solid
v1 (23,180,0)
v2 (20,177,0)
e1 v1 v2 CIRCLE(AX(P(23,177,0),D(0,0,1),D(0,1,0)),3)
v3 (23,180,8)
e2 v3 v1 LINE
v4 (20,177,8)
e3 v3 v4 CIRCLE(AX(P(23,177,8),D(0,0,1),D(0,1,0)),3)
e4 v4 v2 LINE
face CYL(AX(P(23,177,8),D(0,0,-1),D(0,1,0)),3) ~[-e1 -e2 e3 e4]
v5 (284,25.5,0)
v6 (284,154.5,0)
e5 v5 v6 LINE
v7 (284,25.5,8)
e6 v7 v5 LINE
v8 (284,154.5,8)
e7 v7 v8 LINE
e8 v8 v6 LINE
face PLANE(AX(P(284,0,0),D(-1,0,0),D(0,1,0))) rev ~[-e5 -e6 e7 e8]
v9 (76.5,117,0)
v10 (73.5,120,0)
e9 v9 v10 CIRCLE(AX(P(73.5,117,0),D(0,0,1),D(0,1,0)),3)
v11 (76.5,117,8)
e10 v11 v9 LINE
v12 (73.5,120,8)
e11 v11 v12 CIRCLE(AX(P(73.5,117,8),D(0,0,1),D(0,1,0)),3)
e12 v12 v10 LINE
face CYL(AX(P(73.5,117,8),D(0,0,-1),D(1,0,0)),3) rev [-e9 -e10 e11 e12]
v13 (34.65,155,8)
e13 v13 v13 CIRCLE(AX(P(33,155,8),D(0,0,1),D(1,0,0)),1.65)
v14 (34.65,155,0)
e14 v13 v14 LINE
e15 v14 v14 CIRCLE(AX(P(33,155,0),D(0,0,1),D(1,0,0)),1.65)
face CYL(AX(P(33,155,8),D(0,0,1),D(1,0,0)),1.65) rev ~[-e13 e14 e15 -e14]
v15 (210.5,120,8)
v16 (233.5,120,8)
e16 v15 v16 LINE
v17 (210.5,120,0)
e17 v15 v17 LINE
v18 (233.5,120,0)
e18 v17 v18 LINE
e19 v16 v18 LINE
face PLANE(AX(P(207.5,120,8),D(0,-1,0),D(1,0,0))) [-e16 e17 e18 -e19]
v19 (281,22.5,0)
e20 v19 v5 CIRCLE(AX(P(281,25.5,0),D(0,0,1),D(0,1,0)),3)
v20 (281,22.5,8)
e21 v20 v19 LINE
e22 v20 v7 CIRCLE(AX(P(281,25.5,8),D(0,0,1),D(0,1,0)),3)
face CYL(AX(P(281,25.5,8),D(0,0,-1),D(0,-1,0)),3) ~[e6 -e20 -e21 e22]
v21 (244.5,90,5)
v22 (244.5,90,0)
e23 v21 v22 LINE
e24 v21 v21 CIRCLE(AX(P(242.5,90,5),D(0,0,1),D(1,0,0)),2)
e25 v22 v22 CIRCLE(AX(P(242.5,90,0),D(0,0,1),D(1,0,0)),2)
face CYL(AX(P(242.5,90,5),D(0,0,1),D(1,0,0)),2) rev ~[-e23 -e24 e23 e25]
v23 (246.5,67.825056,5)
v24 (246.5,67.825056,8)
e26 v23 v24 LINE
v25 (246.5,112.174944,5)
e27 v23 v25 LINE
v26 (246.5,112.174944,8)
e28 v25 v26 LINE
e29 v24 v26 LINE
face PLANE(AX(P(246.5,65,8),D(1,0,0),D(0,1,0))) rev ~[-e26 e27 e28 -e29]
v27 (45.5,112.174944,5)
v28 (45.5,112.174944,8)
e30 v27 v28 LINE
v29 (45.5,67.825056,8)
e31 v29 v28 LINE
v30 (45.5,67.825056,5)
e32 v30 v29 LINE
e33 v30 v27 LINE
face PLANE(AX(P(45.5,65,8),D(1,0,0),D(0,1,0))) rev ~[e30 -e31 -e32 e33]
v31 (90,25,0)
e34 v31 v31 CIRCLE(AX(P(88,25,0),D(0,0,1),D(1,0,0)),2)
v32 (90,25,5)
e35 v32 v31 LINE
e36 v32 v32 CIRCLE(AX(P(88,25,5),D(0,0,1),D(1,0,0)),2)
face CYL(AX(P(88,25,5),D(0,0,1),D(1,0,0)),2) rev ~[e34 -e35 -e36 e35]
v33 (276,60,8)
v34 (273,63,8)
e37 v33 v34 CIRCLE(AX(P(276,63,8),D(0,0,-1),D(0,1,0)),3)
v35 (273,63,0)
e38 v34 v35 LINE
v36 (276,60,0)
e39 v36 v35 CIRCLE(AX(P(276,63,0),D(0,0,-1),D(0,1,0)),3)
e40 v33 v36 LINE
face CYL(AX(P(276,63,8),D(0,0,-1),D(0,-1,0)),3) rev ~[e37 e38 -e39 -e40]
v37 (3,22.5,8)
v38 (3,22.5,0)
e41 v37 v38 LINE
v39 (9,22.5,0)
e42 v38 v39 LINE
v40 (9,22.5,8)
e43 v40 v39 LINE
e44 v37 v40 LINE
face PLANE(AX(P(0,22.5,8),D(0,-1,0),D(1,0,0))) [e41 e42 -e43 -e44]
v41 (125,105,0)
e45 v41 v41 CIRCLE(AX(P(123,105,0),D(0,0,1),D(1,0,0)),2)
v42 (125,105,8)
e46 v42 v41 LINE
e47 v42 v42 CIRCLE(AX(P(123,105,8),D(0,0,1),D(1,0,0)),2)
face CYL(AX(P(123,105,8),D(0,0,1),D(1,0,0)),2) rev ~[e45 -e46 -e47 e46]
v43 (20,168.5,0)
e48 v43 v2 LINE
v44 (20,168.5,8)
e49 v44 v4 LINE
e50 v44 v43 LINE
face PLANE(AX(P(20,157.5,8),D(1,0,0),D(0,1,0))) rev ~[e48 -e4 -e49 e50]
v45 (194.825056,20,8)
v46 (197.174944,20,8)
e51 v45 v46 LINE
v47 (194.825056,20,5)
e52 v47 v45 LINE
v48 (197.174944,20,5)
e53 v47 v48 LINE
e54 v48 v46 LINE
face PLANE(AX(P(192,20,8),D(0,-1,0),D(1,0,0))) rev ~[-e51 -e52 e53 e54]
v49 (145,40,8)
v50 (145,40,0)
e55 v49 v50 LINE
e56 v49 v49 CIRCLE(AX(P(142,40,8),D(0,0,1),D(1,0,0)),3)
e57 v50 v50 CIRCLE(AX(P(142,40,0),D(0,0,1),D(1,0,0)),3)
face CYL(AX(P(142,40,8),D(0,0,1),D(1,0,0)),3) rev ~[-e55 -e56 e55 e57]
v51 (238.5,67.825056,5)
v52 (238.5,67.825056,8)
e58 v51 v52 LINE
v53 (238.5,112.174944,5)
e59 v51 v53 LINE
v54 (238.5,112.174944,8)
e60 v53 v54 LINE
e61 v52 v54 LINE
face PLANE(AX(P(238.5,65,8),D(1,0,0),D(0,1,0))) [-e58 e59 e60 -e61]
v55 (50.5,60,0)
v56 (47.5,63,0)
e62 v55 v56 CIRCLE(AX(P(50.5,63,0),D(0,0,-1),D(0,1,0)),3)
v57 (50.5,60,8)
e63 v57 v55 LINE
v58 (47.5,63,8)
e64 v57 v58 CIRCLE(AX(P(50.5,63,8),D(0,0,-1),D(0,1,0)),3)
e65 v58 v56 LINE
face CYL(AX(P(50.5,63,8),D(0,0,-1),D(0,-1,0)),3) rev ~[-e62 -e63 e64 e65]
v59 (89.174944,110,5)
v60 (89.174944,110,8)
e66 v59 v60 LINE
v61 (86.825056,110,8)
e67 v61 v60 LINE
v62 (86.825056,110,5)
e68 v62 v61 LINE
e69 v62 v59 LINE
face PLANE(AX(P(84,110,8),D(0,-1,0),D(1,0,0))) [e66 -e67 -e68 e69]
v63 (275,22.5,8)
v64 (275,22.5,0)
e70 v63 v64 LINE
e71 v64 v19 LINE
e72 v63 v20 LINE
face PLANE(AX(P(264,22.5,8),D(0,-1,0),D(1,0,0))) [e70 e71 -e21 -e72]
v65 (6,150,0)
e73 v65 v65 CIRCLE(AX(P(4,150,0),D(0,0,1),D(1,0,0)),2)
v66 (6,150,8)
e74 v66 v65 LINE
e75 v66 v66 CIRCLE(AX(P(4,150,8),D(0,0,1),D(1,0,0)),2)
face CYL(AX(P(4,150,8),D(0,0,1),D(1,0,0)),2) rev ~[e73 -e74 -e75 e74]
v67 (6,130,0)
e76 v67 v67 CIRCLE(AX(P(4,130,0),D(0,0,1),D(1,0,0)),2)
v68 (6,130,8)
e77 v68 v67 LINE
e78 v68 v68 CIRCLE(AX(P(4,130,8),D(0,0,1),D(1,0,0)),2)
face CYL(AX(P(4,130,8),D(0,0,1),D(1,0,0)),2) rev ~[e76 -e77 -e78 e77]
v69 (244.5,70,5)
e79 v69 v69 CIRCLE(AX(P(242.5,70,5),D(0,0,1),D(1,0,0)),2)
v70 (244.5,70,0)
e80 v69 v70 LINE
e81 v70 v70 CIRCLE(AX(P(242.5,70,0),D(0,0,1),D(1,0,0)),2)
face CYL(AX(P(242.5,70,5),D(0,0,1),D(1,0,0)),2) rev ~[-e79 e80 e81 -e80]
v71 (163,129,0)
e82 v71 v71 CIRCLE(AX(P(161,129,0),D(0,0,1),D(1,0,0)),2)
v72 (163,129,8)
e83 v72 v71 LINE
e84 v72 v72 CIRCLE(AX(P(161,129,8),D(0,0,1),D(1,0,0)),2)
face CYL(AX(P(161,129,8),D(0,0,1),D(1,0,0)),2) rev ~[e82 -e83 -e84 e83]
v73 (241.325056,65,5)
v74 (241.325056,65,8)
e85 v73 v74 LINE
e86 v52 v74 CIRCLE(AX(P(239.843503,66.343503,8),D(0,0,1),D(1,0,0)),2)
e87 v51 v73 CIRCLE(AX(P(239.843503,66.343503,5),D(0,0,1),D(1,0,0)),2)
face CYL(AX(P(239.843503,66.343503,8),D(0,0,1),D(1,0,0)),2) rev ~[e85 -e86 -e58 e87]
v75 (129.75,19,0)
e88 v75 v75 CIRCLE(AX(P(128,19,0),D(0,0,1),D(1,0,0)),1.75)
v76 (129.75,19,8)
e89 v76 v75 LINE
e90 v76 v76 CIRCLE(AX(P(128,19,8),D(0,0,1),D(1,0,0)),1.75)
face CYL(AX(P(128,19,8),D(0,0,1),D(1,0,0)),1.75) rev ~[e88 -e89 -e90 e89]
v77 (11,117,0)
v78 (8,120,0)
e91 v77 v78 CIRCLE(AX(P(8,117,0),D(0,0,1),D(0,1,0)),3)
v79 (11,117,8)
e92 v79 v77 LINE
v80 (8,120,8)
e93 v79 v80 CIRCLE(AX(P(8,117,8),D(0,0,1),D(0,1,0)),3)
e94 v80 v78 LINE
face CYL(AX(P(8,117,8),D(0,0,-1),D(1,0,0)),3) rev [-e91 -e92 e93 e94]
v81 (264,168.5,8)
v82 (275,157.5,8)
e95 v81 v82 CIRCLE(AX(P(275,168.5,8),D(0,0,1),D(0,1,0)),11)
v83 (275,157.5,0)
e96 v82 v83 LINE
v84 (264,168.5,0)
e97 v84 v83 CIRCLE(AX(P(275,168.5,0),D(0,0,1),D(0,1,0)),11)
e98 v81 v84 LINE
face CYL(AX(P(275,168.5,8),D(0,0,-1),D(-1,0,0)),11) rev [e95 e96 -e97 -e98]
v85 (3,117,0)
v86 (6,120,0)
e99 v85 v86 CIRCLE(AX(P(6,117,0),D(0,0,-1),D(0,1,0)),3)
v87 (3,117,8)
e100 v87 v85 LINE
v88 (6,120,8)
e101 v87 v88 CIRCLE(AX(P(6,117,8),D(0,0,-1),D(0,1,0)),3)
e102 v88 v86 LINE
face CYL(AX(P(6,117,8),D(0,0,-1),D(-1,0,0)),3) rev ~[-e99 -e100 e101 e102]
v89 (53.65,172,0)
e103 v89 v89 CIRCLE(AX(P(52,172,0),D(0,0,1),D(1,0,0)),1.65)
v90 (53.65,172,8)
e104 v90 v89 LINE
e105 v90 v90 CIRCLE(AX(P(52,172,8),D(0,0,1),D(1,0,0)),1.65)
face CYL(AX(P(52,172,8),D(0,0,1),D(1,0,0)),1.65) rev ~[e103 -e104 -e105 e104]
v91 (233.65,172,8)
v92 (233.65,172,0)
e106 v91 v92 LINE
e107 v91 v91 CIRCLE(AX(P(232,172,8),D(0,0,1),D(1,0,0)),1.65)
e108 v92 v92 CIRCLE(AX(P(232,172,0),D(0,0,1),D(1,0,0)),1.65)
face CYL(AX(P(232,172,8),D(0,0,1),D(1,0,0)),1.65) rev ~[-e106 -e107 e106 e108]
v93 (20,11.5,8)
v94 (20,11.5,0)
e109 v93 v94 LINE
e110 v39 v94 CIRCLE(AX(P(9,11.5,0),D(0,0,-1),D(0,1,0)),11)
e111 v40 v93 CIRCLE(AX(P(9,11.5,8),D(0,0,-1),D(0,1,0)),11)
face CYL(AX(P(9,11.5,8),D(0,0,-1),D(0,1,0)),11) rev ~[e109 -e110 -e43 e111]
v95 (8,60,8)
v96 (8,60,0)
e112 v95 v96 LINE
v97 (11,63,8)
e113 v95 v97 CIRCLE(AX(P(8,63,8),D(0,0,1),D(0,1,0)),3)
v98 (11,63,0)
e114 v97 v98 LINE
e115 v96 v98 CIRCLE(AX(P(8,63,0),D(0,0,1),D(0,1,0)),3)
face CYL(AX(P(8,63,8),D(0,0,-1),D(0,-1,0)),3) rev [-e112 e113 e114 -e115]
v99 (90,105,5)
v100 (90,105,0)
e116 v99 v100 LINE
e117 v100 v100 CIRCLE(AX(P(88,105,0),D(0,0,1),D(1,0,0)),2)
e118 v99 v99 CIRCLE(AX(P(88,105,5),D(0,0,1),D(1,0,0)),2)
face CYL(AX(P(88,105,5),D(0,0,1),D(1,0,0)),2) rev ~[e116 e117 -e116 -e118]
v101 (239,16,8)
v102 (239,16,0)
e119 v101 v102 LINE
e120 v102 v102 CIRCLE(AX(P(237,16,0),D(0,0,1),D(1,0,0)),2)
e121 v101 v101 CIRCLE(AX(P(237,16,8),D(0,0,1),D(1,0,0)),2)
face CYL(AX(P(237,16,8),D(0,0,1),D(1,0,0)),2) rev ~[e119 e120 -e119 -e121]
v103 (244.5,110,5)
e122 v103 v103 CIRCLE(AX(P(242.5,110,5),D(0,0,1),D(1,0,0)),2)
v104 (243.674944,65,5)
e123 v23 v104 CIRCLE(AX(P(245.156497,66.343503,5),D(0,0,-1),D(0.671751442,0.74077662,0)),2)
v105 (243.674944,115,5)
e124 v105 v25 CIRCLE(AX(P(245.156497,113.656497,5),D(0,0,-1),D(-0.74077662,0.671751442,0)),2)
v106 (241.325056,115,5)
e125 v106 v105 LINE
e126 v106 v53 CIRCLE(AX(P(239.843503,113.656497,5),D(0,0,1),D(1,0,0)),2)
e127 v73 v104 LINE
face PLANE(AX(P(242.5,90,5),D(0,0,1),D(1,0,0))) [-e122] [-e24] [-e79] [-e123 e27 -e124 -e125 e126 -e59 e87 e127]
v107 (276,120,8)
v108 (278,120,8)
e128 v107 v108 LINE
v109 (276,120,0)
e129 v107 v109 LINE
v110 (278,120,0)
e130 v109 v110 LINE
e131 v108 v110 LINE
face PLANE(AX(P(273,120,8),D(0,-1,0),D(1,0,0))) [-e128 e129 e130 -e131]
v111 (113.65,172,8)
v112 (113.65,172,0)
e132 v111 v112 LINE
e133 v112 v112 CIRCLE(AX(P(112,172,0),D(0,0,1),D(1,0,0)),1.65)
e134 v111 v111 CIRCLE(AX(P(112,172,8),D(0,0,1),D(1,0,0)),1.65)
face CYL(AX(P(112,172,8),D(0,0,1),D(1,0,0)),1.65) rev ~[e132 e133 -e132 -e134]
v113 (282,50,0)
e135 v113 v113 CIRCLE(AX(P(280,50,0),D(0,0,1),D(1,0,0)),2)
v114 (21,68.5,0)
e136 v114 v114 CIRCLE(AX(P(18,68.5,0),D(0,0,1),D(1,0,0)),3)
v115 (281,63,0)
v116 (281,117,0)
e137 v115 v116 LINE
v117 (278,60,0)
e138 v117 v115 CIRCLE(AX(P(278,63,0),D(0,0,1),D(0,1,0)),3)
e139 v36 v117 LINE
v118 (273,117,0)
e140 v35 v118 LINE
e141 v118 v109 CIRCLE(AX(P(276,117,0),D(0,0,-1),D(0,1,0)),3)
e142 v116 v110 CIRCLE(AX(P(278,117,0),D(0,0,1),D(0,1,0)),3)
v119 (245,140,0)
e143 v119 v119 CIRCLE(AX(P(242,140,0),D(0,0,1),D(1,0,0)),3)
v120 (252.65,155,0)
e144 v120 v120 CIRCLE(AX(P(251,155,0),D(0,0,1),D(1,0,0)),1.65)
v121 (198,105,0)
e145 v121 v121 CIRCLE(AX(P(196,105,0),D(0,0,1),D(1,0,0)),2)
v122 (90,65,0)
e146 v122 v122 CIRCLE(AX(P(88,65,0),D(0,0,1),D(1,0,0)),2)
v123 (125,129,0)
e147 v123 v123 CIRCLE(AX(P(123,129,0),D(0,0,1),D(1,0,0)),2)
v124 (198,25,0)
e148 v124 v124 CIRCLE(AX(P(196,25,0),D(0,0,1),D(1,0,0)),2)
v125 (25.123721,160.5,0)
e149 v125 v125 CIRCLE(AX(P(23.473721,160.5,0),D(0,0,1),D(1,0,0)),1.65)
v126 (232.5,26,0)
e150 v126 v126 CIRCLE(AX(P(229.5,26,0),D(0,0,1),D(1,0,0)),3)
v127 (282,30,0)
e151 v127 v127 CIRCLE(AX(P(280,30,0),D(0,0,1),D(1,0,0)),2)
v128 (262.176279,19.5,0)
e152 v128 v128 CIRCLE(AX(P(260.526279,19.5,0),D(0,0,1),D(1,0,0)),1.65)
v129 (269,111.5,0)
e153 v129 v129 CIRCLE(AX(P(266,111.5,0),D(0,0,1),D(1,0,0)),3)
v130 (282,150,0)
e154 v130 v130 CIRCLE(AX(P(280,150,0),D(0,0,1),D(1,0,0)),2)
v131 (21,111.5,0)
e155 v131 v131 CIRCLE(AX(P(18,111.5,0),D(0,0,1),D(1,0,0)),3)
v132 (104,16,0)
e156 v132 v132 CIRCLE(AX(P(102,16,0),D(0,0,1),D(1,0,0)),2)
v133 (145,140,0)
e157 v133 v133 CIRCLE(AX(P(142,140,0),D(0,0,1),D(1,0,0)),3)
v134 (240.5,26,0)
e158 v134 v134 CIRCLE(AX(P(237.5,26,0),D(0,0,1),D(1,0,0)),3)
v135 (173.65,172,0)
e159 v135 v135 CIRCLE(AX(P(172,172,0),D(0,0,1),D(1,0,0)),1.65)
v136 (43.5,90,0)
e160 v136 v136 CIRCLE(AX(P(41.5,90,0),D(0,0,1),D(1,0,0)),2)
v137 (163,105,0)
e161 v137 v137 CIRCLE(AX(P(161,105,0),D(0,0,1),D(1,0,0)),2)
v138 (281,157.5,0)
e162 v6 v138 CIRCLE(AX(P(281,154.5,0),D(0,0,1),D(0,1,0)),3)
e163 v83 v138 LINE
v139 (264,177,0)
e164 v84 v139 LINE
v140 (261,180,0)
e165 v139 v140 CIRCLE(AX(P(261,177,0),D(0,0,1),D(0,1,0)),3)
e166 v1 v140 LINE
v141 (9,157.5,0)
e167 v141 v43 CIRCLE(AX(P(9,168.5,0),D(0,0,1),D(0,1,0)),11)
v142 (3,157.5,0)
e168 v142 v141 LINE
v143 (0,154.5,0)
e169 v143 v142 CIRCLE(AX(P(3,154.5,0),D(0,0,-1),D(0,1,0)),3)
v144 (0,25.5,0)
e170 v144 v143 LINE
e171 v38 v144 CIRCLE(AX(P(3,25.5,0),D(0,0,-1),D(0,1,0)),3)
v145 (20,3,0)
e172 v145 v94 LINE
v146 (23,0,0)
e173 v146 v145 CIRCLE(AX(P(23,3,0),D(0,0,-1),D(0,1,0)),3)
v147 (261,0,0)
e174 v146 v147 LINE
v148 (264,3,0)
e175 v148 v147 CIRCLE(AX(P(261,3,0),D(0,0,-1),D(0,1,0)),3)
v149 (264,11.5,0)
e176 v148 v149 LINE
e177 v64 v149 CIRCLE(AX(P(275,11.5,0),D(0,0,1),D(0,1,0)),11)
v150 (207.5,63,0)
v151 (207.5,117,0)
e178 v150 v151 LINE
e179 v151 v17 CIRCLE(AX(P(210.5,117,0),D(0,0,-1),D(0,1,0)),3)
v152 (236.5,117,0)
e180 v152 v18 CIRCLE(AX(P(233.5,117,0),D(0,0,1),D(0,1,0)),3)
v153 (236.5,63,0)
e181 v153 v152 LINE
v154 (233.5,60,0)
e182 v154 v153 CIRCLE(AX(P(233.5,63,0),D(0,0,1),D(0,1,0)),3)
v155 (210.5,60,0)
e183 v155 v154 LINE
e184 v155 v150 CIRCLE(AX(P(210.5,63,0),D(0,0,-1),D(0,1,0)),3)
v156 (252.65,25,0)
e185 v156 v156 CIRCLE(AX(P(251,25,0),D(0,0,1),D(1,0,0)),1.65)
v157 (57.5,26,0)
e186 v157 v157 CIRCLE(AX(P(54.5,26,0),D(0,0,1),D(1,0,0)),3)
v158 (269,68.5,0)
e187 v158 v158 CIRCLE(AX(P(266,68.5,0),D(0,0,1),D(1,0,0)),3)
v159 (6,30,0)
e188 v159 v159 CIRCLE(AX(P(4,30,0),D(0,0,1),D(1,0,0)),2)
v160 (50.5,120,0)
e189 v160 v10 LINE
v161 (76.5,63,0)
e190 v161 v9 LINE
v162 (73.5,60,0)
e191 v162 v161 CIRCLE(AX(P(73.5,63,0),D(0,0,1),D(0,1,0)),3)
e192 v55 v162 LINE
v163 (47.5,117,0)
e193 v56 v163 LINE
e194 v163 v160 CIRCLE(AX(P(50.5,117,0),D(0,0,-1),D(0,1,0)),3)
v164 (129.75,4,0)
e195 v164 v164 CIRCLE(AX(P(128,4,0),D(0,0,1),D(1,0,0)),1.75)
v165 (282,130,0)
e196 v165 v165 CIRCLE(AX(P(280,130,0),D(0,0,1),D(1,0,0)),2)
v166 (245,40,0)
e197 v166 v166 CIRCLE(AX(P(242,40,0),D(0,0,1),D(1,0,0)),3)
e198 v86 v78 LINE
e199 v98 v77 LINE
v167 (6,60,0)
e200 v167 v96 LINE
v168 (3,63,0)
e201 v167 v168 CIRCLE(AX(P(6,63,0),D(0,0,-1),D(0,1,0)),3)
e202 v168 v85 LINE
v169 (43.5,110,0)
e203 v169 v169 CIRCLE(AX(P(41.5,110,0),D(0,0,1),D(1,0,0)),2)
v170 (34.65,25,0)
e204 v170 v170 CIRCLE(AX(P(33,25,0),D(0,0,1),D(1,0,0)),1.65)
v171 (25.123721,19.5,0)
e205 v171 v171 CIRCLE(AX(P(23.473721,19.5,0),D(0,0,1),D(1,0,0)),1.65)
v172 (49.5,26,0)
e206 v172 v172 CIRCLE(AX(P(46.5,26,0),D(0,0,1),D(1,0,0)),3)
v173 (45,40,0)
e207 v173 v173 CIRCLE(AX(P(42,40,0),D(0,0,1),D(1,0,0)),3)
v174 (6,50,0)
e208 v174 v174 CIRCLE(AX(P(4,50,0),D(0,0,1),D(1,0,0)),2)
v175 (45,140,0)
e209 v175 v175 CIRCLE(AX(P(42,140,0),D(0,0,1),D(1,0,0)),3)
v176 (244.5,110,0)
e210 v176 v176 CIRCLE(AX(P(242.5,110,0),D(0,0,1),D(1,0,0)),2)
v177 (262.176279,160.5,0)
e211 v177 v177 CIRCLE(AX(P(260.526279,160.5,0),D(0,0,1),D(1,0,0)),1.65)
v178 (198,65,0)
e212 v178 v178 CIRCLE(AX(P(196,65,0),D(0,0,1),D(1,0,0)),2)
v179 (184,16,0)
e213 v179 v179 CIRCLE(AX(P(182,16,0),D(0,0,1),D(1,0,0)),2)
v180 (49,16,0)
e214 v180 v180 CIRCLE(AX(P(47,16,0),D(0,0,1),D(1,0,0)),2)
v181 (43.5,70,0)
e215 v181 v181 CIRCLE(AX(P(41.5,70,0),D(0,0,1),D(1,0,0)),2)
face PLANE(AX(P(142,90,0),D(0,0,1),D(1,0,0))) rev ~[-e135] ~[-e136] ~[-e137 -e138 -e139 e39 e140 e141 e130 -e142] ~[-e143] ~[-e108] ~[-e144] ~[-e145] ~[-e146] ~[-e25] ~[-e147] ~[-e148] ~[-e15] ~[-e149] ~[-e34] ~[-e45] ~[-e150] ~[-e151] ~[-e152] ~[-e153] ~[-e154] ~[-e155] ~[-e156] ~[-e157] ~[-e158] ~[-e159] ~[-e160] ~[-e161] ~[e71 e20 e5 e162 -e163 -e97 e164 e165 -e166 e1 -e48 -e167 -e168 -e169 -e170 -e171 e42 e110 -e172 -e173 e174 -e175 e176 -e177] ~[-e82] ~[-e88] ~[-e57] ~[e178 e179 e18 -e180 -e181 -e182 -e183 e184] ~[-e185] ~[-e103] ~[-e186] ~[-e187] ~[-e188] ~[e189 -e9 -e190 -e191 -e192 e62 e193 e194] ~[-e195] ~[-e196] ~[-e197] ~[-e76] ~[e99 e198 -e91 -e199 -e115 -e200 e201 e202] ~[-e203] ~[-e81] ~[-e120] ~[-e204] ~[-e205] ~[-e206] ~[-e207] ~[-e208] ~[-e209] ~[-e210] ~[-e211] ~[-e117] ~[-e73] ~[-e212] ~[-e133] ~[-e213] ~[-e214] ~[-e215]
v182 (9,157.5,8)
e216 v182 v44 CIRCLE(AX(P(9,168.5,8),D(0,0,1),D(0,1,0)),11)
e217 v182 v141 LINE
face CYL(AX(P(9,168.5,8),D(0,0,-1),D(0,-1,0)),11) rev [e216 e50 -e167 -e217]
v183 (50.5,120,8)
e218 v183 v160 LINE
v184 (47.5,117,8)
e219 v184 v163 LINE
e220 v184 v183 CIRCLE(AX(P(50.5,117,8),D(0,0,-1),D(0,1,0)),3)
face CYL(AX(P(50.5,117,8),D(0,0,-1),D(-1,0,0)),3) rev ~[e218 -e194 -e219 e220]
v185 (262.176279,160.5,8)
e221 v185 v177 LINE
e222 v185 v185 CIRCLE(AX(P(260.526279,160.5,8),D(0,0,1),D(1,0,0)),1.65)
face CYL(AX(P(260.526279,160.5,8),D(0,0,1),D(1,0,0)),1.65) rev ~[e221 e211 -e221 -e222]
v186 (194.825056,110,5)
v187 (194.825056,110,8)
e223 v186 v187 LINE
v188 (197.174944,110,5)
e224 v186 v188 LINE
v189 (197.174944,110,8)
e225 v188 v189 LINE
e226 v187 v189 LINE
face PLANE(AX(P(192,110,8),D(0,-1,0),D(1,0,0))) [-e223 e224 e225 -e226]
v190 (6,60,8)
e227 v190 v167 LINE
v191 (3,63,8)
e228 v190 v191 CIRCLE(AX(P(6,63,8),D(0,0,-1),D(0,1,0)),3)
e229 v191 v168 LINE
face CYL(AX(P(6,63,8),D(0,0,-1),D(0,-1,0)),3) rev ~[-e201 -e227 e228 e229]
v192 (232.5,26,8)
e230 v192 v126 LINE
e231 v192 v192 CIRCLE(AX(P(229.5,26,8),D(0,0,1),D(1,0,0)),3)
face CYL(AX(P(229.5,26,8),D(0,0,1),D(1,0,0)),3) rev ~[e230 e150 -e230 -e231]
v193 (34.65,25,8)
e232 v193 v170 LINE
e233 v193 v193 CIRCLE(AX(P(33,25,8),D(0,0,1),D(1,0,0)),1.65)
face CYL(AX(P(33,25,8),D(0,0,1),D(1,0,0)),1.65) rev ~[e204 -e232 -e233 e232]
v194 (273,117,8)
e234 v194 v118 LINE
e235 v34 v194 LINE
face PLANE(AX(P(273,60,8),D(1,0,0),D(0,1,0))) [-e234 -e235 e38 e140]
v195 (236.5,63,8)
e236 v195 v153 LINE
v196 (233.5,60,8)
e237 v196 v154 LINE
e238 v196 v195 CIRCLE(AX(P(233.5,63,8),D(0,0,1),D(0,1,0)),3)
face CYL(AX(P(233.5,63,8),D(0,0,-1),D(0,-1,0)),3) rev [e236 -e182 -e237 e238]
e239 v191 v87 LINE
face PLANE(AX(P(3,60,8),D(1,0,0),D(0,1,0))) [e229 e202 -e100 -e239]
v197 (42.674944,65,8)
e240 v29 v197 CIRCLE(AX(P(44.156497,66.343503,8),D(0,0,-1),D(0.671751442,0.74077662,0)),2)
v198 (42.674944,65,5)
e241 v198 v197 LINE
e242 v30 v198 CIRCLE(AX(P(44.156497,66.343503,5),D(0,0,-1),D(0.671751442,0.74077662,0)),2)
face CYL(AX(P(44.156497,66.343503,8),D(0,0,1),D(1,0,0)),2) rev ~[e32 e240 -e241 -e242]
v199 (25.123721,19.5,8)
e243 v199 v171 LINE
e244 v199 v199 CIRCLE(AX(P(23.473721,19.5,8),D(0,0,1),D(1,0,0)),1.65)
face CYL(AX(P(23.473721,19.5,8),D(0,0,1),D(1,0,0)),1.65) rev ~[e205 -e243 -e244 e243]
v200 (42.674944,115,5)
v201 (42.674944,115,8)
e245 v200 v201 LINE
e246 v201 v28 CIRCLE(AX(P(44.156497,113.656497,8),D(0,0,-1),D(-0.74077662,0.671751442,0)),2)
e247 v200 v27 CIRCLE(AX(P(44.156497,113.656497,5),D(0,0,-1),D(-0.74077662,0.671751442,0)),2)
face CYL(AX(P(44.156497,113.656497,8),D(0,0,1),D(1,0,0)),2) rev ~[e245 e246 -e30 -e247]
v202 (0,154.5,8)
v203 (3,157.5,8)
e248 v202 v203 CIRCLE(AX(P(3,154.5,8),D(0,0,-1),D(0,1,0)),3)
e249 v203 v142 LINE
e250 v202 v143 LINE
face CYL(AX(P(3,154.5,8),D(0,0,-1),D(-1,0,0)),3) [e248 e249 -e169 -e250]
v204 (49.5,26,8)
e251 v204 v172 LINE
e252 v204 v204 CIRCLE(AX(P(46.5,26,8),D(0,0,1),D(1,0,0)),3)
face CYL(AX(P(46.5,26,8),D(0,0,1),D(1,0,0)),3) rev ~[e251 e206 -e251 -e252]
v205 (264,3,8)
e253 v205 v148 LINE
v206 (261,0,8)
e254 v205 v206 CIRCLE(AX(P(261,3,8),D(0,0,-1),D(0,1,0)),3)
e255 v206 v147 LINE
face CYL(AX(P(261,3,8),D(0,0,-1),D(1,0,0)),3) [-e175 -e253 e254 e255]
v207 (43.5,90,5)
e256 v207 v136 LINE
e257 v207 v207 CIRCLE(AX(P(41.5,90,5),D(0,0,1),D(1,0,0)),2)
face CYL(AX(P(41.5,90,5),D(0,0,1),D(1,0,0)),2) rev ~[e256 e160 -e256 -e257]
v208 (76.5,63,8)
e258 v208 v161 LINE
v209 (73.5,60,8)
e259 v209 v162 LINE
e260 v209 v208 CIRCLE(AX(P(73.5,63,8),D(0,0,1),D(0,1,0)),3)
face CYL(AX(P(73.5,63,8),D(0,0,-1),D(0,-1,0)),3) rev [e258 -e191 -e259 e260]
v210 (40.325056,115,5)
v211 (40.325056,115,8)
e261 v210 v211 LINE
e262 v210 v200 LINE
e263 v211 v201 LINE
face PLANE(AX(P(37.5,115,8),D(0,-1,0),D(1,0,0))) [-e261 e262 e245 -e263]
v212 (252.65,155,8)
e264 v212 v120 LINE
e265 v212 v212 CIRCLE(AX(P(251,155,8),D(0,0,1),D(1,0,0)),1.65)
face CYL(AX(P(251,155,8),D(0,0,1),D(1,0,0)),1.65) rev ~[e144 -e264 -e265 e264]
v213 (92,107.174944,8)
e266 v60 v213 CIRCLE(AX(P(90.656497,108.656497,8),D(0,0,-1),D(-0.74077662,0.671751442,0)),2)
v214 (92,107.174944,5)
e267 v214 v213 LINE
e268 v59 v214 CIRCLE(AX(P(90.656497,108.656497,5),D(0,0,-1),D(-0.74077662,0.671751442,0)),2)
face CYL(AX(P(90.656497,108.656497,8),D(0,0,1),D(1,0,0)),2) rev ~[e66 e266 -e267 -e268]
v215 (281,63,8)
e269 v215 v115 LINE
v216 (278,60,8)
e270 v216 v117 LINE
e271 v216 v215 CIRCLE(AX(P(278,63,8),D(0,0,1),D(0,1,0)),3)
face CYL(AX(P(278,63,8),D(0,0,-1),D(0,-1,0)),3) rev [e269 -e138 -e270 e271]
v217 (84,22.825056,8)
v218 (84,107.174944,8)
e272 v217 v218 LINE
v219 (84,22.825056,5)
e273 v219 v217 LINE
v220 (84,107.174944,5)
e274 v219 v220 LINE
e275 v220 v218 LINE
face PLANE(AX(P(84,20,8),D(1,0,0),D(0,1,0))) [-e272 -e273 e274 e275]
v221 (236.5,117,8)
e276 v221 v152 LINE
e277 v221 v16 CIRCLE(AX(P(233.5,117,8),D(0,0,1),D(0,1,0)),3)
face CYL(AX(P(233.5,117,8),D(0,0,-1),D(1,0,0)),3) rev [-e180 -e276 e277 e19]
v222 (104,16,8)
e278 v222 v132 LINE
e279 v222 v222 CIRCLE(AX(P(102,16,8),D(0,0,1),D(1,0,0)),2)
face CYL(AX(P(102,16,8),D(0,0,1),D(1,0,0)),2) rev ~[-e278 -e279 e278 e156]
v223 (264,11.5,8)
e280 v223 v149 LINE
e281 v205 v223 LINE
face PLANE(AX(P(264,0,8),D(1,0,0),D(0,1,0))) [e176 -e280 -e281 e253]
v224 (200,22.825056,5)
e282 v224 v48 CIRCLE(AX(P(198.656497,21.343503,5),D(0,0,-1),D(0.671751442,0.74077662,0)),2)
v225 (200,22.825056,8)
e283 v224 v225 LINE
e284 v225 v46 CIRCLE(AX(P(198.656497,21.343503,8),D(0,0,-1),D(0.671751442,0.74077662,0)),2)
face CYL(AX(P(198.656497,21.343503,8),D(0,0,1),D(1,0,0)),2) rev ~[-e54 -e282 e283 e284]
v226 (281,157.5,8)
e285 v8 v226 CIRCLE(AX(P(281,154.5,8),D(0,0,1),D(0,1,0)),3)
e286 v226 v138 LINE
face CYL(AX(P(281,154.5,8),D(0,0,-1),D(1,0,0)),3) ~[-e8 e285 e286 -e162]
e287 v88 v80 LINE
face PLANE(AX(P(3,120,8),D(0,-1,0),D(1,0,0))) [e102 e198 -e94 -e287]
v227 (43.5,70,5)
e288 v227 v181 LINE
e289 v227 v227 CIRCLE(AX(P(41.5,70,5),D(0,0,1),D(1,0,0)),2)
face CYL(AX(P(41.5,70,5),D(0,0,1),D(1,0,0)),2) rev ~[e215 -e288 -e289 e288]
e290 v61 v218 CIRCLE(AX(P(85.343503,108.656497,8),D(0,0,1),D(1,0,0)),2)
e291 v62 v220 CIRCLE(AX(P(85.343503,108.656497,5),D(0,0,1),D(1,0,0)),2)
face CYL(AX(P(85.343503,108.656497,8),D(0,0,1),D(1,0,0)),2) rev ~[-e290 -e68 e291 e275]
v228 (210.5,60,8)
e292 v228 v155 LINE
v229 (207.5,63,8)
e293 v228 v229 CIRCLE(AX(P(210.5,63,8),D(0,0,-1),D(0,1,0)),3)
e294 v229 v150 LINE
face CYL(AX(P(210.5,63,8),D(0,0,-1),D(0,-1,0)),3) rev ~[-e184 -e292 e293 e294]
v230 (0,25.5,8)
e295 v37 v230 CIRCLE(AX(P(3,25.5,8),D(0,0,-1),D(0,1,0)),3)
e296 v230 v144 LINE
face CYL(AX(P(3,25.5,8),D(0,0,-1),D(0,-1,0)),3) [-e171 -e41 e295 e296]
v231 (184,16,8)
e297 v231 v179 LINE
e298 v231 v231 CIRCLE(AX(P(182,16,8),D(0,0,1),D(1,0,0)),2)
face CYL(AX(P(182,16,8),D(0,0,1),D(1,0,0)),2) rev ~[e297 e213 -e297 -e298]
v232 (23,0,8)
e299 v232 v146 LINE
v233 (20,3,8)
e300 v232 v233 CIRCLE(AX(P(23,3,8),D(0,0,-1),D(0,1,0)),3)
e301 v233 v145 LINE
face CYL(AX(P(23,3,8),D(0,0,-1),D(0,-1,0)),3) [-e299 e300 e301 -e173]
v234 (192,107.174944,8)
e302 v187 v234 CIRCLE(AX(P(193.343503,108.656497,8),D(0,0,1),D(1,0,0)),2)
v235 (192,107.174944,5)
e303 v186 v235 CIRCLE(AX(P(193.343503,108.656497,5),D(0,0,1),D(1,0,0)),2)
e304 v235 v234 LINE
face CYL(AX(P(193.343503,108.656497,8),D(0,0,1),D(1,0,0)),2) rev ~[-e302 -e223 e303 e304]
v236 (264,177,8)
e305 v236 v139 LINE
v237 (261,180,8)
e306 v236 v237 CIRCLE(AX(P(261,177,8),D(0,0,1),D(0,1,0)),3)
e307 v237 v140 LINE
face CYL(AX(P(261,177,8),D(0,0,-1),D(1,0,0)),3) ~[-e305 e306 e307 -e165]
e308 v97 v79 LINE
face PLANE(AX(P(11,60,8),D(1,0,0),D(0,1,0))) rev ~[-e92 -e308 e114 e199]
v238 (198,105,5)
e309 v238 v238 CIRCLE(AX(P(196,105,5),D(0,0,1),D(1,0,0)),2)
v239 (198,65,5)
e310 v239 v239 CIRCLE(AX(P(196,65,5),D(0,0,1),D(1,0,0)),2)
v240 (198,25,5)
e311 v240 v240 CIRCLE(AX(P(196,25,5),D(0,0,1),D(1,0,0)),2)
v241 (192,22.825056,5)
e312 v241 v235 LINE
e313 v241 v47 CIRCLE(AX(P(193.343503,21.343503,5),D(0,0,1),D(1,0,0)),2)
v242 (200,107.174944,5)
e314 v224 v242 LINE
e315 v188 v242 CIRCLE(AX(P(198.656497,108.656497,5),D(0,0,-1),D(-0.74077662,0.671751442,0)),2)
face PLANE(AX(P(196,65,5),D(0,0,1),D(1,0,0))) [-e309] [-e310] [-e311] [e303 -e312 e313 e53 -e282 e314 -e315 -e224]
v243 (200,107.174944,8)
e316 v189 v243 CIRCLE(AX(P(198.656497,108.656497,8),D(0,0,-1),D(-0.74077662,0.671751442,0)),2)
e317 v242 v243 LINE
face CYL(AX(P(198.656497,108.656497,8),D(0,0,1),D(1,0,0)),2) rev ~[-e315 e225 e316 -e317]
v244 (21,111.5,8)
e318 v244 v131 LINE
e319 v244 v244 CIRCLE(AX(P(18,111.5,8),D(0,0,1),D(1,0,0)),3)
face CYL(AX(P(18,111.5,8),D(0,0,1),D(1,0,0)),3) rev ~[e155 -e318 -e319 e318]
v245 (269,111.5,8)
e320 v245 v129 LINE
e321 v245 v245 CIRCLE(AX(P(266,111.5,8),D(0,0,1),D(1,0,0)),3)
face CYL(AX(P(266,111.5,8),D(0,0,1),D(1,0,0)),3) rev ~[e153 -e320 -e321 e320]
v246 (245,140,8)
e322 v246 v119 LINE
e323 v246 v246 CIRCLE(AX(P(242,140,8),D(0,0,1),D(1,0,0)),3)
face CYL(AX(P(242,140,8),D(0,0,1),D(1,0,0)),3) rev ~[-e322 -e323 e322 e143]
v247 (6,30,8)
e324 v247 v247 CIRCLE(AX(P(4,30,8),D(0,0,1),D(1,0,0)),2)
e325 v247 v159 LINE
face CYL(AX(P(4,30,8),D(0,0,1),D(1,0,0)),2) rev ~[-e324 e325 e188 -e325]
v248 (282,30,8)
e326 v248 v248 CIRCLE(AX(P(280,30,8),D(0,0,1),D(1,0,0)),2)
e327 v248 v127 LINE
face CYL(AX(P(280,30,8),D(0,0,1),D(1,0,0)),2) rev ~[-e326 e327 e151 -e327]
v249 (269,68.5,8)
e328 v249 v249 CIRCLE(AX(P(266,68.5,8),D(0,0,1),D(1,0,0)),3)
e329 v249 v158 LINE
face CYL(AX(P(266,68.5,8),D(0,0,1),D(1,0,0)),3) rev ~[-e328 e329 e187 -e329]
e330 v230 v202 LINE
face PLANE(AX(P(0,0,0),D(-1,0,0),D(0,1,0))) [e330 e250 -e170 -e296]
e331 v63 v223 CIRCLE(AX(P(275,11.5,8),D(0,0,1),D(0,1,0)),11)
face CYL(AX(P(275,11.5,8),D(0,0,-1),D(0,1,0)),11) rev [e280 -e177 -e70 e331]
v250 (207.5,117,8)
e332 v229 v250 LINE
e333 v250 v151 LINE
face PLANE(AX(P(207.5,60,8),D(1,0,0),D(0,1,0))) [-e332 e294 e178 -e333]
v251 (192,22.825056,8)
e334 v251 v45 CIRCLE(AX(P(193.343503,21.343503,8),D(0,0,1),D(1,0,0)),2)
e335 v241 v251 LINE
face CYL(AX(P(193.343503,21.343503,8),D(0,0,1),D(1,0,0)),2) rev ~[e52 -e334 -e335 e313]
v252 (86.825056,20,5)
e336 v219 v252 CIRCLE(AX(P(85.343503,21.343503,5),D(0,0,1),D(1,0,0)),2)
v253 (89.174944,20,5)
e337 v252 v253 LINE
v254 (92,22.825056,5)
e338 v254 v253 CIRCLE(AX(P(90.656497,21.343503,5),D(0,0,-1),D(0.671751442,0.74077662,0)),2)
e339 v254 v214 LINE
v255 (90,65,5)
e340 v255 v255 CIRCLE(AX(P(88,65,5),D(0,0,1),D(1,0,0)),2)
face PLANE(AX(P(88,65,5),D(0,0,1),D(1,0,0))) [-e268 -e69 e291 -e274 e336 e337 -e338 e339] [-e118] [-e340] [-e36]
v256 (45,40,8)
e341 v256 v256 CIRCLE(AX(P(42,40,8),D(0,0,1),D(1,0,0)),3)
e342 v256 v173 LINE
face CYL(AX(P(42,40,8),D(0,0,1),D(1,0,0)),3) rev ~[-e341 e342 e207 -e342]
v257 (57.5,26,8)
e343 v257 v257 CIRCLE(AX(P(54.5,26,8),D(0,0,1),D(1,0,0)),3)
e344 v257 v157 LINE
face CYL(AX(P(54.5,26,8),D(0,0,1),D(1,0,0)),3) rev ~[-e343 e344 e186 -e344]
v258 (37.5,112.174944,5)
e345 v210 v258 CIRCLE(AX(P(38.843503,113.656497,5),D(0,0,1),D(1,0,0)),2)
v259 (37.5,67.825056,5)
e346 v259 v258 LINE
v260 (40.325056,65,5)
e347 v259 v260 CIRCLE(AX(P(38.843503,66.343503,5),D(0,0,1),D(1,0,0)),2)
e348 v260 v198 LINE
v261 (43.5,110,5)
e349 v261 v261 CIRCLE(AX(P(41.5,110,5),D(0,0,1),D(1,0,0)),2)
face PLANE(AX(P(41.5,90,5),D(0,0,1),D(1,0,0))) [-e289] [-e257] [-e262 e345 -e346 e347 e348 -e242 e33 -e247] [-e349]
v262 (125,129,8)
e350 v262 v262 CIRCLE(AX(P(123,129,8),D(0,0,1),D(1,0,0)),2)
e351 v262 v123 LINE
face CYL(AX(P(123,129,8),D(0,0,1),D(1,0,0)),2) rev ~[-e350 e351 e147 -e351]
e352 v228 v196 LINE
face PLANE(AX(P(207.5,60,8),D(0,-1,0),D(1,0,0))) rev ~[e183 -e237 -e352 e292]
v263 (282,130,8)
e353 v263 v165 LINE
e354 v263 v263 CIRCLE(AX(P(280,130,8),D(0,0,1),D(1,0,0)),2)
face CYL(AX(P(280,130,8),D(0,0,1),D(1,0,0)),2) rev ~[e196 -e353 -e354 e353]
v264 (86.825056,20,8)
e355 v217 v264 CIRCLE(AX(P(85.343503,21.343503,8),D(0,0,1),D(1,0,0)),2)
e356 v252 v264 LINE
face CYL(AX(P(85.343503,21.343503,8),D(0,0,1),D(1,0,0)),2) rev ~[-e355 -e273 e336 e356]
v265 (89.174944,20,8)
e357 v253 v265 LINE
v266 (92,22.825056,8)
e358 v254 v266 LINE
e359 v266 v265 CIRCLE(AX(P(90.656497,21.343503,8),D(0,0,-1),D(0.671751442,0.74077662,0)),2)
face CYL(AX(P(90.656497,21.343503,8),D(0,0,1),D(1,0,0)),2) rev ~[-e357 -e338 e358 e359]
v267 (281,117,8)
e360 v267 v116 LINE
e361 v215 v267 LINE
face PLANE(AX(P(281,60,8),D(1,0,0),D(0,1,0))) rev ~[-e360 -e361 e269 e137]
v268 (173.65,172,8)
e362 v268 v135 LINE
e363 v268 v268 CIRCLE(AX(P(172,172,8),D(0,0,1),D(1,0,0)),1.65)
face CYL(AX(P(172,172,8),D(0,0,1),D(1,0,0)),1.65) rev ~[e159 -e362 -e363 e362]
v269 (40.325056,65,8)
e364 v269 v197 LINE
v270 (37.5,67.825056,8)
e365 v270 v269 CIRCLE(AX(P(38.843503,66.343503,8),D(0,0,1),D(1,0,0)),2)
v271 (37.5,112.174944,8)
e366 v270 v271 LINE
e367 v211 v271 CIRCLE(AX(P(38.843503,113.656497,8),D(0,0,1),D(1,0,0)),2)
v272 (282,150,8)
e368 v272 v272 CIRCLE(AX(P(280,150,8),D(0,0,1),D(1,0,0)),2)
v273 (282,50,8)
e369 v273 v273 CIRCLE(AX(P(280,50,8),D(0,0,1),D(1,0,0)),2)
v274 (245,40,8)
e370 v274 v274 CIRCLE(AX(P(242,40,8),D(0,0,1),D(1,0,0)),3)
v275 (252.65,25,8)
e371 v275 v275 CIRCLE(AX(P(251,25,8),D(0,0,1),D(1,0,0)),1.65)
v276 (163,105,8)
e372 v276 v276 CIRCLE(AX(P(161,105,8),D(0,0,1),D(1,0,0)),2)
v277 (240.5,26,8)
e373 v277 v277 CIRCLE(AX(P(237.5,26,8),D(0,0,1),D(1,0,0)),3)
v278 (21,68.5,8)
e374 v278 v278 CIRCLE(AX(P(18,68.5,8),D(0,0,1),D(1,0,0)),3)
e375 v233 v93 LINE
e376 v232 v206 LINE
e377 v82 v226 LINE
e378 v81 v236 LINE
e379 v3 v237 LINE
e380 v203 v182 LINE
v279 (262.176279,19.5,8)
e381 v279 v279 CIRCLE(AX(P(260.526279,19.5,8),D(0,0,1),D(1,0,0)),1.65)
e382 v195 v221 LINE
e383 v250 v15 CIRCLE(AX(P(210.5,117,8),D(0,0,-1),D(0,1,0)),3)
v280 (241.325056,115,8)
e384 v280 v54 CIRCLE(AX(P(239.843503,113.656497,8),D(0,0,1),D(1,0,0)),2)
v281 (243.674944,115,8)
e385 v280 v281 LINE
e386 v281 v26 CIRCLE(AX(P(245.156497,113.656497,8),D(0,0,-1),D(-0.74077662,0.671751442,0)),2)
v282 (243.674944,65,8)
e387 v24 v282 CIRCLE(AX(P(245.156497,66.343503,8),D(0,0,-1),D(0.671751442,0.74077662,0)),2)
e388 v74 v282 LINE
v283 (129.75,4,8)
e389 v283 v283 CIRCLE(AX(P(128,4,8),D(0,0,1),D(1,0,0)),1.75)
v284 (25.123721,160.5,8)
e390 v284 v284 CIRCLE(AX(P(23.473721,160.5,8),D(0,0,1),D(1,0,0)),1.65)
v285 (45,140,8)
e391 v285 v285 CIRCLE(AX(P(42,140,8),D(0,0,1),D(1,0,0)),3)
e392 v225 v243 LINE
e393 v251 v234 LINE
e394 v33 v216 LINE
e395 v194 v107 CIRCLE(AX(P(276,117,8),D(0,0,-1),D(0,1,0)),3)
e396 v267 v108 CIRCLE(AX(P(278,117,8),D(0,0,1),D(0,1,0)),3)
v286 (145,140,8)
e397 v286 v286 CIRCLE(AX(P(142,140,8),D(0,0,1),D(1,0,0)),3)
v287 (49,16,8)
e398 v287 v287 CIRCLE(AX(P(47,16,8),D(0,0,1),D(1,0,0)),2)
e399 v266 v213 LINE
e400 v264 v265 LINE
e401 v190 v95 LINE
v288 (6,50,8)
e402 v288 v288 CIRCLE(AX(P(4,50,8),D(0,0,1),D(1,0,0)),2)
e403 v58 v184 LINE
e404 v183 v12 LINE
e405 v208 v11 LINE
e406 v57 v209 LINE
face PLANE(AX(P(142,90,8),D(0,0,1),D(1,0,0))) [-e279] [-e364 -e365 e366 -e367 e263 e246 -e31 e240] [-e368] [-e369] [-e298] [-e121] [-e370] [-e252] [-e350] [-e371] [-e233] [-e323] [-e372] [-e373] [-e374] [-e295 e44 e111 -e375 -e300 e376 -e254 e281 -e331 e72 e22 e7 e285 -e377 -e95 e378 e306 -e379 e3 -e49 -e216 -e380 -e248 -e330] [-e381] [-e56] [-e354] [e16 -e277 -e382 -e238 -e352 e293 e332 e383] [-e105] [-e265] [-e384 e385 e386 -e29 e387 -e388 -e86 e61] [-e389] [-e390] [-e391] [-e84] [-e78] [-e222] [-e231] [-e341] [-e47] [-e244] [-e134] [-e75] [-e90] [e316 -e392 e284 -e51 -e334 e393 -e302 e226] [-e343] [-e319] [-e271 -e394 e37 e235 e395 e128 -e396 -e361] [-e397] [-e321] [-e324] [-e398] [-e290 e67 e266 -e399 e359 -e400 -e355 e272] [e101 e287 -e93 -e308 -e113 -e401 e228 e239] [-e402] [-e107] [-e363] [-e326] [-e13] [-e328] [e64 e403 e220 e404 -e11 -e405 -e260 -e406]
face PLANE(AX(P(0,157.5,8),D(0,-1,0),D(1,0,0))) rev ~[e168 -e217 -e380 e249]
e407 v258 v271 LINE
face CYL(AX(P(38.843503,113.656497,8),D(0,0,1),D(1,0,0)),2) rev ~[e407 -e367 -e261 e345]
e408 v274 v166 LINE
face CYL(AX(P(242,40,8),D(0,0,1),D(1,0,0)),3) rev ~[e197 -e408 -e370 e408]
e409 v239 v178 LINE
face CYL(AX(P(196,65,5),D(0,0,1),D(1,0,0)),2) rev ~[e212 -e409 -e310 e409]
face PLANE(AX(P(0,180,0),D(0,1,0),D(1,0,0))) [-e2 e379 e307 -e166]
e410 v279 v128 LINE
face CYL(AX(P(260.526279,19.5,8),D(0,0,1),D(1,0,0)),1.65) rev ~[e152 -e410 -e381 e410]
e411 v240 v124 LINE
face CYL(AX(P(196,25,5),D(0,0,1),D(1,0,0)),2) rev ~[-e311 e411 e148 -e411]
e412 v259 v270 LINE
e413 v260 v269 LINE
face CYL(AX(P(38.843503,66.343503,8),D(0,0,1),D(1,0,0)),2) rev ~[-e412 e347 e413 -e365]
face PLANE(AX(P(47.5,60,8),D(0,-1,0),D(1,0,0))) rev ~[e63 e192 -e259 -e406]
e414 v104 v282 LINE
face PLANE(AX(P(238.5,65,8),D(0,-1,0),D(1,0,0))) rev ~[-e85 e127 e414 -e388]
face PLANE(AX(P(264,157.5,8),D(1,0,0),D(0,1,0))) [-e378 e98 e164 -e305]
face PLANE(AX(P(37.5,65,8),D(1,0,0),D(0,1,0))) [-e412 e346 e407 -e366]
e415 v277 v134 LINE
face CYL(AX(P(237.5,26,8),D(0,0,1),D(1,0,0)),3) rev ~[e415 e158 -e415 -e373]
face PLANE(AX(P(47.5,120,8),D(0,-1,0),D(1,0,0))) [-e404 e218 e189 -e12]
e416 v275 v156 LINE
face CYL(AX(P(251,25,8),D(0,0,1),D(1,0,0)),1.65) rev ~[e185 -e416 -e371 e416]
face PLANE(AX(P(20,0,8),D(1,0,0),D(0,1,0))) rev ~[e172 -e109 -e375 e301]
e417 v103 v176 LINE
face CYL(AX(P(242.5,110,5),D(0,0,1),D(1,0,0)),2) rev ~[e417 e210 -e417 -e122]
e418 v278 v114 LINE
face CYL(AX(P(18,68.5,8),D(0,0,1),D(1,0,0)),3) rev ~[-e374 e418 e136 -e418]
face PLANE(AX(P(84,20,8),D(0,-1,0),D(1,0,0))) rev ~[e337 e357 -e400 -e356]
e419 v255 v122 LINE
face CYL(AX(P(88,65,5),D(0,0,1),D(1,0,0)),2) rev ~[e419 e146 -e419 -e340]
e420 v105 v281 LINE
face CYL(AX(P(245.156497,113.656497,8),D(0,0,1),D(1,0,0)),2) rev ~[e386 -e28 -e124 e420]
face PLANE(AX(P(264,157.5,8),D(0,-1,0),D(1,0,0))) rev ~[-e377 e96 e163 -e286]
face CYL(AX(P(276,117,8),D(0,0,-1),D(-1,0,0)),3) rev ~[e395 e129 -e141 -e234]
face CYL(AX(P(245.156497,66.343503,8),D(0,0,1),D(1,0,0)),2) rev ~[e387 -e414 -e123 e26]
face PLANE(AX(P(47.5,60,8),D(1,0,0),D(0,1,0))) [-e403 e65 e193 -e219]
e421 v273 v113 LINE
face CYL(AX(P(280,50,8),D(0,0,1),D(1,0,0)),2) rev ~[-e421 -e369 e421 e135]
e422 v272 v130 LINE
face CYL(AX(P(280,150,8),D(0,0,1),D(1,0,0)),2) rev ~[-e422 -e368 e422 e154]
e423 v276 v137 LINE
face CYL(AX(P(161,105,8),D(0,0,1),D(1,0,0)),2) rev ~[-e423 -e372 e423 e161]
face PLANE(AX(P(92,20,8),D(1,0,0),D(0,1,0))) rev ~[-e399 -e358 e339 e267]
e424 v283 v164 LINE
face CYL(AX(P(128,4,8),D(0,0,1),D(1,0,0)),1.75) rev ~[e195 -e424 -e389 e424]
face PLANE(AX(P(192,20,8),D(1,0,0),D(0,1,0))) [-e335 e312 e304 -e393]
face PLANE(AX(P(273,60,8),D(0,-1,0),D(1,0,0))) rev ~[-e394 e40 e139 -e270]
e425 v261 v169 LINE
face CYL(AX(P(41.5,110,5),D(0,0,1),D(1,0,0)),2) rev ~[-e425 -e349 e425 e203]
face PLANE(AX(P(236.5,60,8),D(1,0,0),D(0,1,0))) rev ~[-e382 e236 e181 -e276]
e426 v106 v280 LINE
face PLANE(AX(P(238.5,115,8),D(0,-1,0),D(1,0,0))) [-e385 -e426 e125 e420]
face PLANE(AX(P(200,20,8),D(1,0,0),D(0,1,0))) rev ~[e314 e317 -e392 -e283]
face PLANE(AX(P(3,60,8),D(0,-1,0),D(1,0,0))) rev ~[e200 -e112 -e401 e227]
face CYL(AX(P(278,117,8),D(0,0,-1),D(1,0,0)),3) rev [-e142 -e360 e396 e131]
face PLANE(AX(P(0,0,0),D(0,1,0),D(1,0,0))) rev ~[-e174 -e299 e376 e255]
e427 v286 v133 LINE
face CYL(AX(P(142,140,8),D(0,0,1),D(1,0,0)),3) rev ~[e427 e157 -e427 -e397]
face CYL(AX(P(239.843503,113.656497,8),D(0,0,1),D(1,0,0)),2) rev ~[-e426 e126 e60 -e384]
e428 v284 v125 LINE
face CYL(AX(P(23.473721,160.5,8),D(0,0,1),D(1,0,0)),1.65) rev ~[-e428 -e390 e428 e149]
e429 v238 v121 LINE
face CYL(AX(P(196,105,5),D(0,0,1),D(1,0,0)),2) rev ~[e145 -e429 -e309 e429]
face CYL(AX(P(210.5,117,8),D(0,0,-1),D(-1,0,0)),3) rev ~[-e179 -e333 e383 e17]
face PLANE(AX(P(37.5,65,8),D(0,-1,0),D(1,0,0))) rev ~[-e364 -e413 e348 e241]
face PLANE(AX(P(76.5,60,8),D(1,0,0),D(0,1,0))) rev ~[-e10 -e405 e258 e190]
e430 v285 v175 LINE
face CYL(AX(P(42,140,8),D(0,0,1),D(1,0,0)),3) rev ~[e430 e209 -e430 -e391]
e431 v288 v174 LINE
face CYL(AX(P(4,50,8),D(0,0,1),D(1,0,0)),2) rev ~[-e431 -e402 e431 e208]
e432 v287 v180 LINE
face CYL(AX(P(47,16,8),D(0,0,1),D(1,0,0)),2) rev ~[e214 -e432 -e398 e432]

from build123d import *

# Parameters (mm, degrees)
ESQUISSE1_W                  = 284
ESQUISSE1_H                  = 180
BOSS_EXTRU_1_DEPTH           = 8
ESQUISSE2_W                  = 29
ESQUISSE2_H                  = 60
ESQUISSE2_W_2                = 8
ENL_V_MAT_EXTRU_1_DEPTH      = 9
ESQUISSE3_R                  = 1.65
ENL_V_MAT_EXTRU_2_DEPTH      = 8
ESQUISSE4_W                  = 8
ESQUISSE4_H                  = 90
ESQUISSE4_H_2                = 50
ENL_V_MAT_EXTRU_3_DEPTH      = 3
ESQUISSE5_R                  = 2
ENL_V_MAT_EXTRU_4_DEPTH      = 9
ESQUISSE6_R                  = 3
ENL_V_MAT_EXTRU_5_DEPTH      = 9
ESQUISSE8_W                  = 20
ESQUISSE8_H                  = 22.5
ENL_V_MAT_EXTRU_7_DEPTH      = 9
CONG_1_R                     = 11
ESQUISSE7_R                  = 1.65
ENL_V_MAT_EXTRU_6_DEPTH      = 9
CONG_2_R                     = 3
ESQUISSE9_R                  = 2
ENL_V_MAT_EXTRU_8_DEPTH      = 3
CONG_3_R                     = 3
ESQUISSE10_R                 = 2
ENL_V_MAT_EXTRU_9_DEPTH      = 6
ESQUISSE11_R                 = 2
ESQUISSE11_R_2               = 3
ENL_V_MAT_EXTRU_10_DEPTH     = 9
ESQUISSE12_R                 = 1.75
ENL_V_MAT_EXTRU_11_DEPTH     = 9
ESQUISSE13_R                 = 2
ENL_V_MAT_EXTRU_12_DEPTH     = 9
ESQUISSE14_R                 = 3
FIXATIONS_USINAGE_DEPTH      = 1
FIXATIONS_USINAGE_DEPTH_BACK = 9


with BuildPart() as part:
    # Esquisse1 → Boss.-Extru.1 (new body)
    with BuildSketch(Plane.XY):
        with Locations((142, 90)):
            Rectangle(ESQUISSE1_W, ESQUISSE1_H)
    extrude(amount=BOSS_EXTRU_1_DEPTH)

    # Esquisse2 → Enlèv. mat.-Extru.1 (cut, through all)
    with BuildSketch(Plane.XY.offset(8)):
        with Locations((62, 90)):
            Rectangle(ESQUISSE2_W, ESQUISSE2_H)
        with Locations((7, 90)):
            Rectangle(ESQUISSE2_W_2, ESQUISSE2_H)
        with Locations((277, 90)):
            Rectangle(ESQUISSE2_W_2, ESQUISSE2_H)
        with Locations((222, 90)):
            Rectangle(ESQUISSE2_W, ESQUISSE2_H)
    extrude(amount=-ENL_V_MAT_EXTRU_1_DEPTH, mode=Mode.SUBTRACT)

    # Esquisse3 → Enlèv. mat.-Extru.2 (cut)
    with BuildSketch(Plane.XY.offset(8)):
        with Locations((112, 172)):
            Circle(ESQUISSE3_R)
        with Locations((172, 172)):
            Circle(ESQUISSE3_R)
        with Locations((232, 172)):
            Circle(ESQUISSE3_R)
        with Locations((52, 172)):
            Circle(ESQUISSE3_R)
    extrude(amount=-ENL_V_MAT_EXTRU_2_DEPTH, mode=Mode.SUBTRACT)

    # Esquisse4 → Enlèv. mat.-Extru.3 (cut)
    with BuildSketch(Plane.XY.offset(8)):
        with Locations((88, 65)):
            Rectangle(ESQUISSE4_W, ESQUISSE4_H)
        with Locations((196, 65)):
            Rectangle(ESQUISSE4_W, ESQUISSE4_H)
        with Locations((41.5, 90)):
            Rectangle(ESQUISSE4_W, ESQUISSE4_H_2)
        with Locations((242.5, 90)):
            Rectangle(ESQUISSE4_W, ESQUISSE4_H_2)
    extrude(amount=-ENL_V_MAT_EXTRU_3_DEPTH, mode=Mode.SUBTRACT)

    # Esquisse5 → Enlèv. mat.-Extru.4 (cut, through all)
    with BuildSketch(Plane.XY.offset(8)):
        with Locations((123, 129)):
            Circle(ESQUISSE5_R)
        with Locations((123, 105)):
            Circle(ESQUISSE5_R)
        with Locations((161, 105)):
            Circle(ESQUISSE5_R)
        with Locations((161, 129)):
            Circle(ESQUISSE5_R)
    extrude(amount=-ENL_V_MAT_EXTRU_4_DEPTH, mode=Mode.SUBTRACT)

    # Esquisse6 → Enlèv. mat.-Extru.5 (cut, through all)
    with BuildSketch(Plane.XY.offset(8)):
        with Locations((18, 111.5)):
            Circle(ESQUISSE6_R)
        with Locations((18, 68.5)):
            Circle(ESQUISSE6_R)
        with Locations((266, 68.5)):
            Circle(ESQUISSE6_R)
        with Locations((266, 111.5)):
            Circle(ESQUISSE6_R)
    extrude(amount=-ENL_V_MAT_EXTRU_5_DEPTH, mode=Mode.SUBTRACT)

    # Esquisse8 → Enlèv. mat.-Extru.7 (cut, through all)
    with BuildSketch(Plane.XY.offset(8)):
        with Locations((10, 168.75)):
            Rectangle(ESQUISSE8_W, ESQUISSE8_H)
        with Locations((274, 168.75)):
            Rectangle(ESQUISSE8_W, ESQUISSE8_H)
        with Locations((274, 11.25)):
            Rectangle(ESQUISSE8_W, ESQUISSE8_H)
        with Locations((10, 11.25)):
            Rectangle(ESQUISSE8_W, ESQUISSE8_H)
    extrude(amount=-ENL_V_MAT_EXTRU_7_DEPTH, mode=Mode.SUBTRACT)

    # Congé1
    cong_1_edges = [part.edges().sort_by_distance(p)[0] for p in [
        (20, 157.5, 4),
        (264, 157.5, 4),
        (20, 22.5, 4),
        (264, 22.5, 4),
    ]]
    fillet(cong_1_edges, radius=CONG_1_R)

    # Esquisse7 → Enlèv. mat.-Extru.6 (cut, through all)
    with BuildSketch(Plane.XY.offset(8)):
        with Locations((33, 155)):
            Circle(ESQUISSE7_R)
        with Locations((23.473720558, 160.5)):
            Circle(ESQUISSE7_R)
        with Locations((260.526279442, 160.5)):
            Circle(ESQUISSE7_R)
        with Locations((251, 155)):
            Circle(ESQUISSE7_R)
        with Locations((23.473720558, 19.5)):
            Circle(ESQUISSE7_R)
        with Locations((33, 25)):
            Circle(ESQUISSE7_R)
        with Locations((251, 25)):
            Circle(ESQUISSE7_R)
        with Locations((260.526279442, 19.5)):
            Circle(ESQUISSE7_R)
    extrude(amount=-ENL_V_MAT_EXTRU_6_DEPTH, mode=Mode.SUBTRACT)

    # Congé2
    cong_2_edges = [part.edges().sort_by_distance(p)[0] for p in [
        (47.5, 60, 4),
        (47.5, 120, 4),
        (76.5, 120, 4),
        (76.5, 60, 4),
        (3, 60, 4),
        (3, 120, 4),
        (11, 120, 4),
        (11, 60, 4),
        (281, 60, 4),
        (273, 60, 4),
        (273, 120, 4),
        (281, 120, 4),
        (236.5, 60, 4),
        (207.5, 60, 4),
        (207.5, 120, 4),
        (236.5, 120, 4),
    ]]
    fillet(cong_2_edges, radius=CONG_2_R)

    # Esquisse9 → Enlèv. mat.-Extru.8 (cut)
    with BuildSketch(Plane.XY.offset(8)):
        with Locations((38.843502884, 113.656497116)):
            Circle(ESQUISSE9_R)
        with Locations((44.156497116, 113.656497116)):
            Circle(ESQUISSE9_R)
        with Locations((44.156497116, 66.343502884)):
            Circle(ESQUISSE9_R)
        with Locations((38.843502884, 66.343502884)):
            Circle(ESQUISSE9_R)
        with Locations((245.156497116, 66.343502884)):
            Circle(ESQUISSE9_R)
        with Locations((239.843502884, 66.343502884)):
            Circle(ESQUISSE9_R)
        with Locations((239.843502884, 113.656497116)):
            Circle(ESQUISSE9_R)
        with Locations((245.156497116, 113.656497116)):
            Circle(ESQUISSE9_R)
        with Locations((85.343502884, 108.656497116)):
            Circle(ESQUISSE9_R)
        with Locations((90.656497116, 108.656497116)):
            Circle(ESQUISSE9_R)
        with Locations((90.656497116, 21.343502884)):
            Circle(ESQUISSE9_R)
        with Locations((85.343502884, 21.343502884)):
            Circle(ESQUISSE9_R)
        with Locations((198.656497116, 21.343502884)):
            Circle(ESQUISSE9_R)
        with Locations((193.343502884, 21.343502884)):
            Circle(ESQUISSE9_R)
        with Locations((193.343502884, 108.656497116)):
            Circle(ESQUISSE9_R)
        with Locations((198.656497116, 108.656497116)):
            Circle(ESQUISSE9_R)
    extrude(amount=-ENL_V_MAT_EXTRU_8_DEPTH, mode=Mode.SUBTRACT)

    # Congé3
    cong_3_edges = [part.edges().sort_by_distance(p)[0] for p in [
        (0, 157.5, 4),
        (20, 180, 4),
        (264, 180, 4),
        (284, 157.5, 4),
        (0, 22.5, 4),
        (20, 0, 4),
        (264, 0, 4),
        (284, 22.5, 4),
    ]]
    fillet(cong_3_edges, radius=CONG_3_R)

    # Esquisse10 → Enlèv. mat.-Extru.9 (cut, through all)
    with BuildSketch(Plane.XY.offset(5)):
        with Locations((41.5, 90)):
            Circle(ESQUISSE10_R)
        with Locations((41.5, 70)):
            Circle(ESQUISSE10_R)
        with Locations((41.5, 110)):
            Circle(ESQUISSE10_R)
        with Locations((88, 65)):
            Circle(ESQUISSE10_R)
        with Locations((88, 25)):
            Circle(ESQUISSE10_R)
        with Locations((88, 105)):
            Circle(ESQUISSE10_R)
        with Locations((196, 105)):
            Circle(ESQUISSE10_R)
        with Locations((196, 25)):
            Circle(ESQUISSE10_R)
        with Locations((196, 65)):
            Circle(ESQUISSE10_R)
        with Locations((242.5, 110)):
            Circle(ESQUISSE10_R)
        with Locations((242.5, 70)):
            Circle(ESQUISSE10_R)
        with Locations((242.5, 90)):
            Circle(ESQUISSE10_R)
    extrude(amount=-ENL_V_MAT_EXTRU_9_DEPTH, mode=Mode.SUBTRACT)

    # Esquisse11 → Enlèv. mat.-Extru.10 (cut, through all)
    with BuildSketch(Plane.XY.offset(8)):
        with Locations((47, 16)):
            Circle(ESQUISSE11_R)
        with Locations((237, 16)):
            Circle(ESQUISSE11_R)
        with Locations((102, 16)):
            Circle(ESQUISSE11_R)
        with Locations((46.5, 26)):
            Circle(ESQUISSE11_R_2)
        with Locations((54.5, 26)):
            Circle(ESQUISSE11_R_2)
        with Locations((229.5, 26)):
            Circle(ESQUISSE11_R_2)
        with Locations((237.5, 26)):
            Circle(ESQUISSE11_R_2)
        with Locations((182, 16)):
            Circle(ESQUISSE11_R)
    extrude(amount=-ENL_V_MAT_EXTRU_10_DEPTH, mode=Mode.SUBTRACT)

    # Esquisse12 → Enlèv. mat.-Extru.11 (cut, through all)
    with BuildSketch(Plane.XY.offset(8)):
        with Locations((128, 4)):
            Circle(ESQUISSE12_R)
        with Locations((128, 19)):
            Circle(ESQUISSE12_R)
    extrude(amount=-ENL_V_MAT_EXTRU_11_DEPTH, mode=Mode.SUBTRACT)

    # Esquisse13 → Enlèv. mat.-Extru.12 (cut, through all)
    with BuildSketch(Plane.XY.offset(8)):
        with Locations((4, 30)):
            Circle(ESQUISSE13_R)
        with Locations((4, 50)):
            Circle(ESQUISSE13_R)
        with Locations((4, 130)):
            Circle(ESQUISSE13_R)
        with Locations((4, 150)):
            Circle(ESQUISSE13_R)
        with Locations((280, 150)):
            Circle(ESQUISSE13_R)
        with Locations((280, 130)):
            Circle(ESQUISSE13_R)
        with Locations((280, 50)):
            Circle(ESQUISSE13_R)
        with Locations((280, 30)):
            Circle(ESQUISSE13_R)
    extrude(amount=-ENL_V_MAT_EXTRU_12_DEPTH, mode=Mode.SUBTRACT)

    # Esquisse14 → fixations_usinage (cut, two sides)
    with BuildSketch(Plane.XY.offset(8)) as fixations_usinage_sk:
        with Locations((42, 140)):
            Circle(ESQUISSE14_R)
        with Locations((42, 40)):
            Circle(ESQUISSE14_R)
        with Locations((242, 40)):
            Circle(ESQUISSE14_R)
        with Locations((242, 140)):
            Circle(ESQUISSE14_R)
        with Locations((142, 40)):
            Circle(ESQUISSE14_R)
        with Locations((142, 140)):
            Circle(ESQUISSE14_R)
    extrude(amount=FIXATIONS_USINAGE_DEPTH, mode=Mode.SUBTRACT)
    extrude(fixations_usinage_sk.sketch, amount=-FIXATIONS_USINAGE_DEPTH_BACK, mode=Mode.SUBTRACT)


solid = part.part
